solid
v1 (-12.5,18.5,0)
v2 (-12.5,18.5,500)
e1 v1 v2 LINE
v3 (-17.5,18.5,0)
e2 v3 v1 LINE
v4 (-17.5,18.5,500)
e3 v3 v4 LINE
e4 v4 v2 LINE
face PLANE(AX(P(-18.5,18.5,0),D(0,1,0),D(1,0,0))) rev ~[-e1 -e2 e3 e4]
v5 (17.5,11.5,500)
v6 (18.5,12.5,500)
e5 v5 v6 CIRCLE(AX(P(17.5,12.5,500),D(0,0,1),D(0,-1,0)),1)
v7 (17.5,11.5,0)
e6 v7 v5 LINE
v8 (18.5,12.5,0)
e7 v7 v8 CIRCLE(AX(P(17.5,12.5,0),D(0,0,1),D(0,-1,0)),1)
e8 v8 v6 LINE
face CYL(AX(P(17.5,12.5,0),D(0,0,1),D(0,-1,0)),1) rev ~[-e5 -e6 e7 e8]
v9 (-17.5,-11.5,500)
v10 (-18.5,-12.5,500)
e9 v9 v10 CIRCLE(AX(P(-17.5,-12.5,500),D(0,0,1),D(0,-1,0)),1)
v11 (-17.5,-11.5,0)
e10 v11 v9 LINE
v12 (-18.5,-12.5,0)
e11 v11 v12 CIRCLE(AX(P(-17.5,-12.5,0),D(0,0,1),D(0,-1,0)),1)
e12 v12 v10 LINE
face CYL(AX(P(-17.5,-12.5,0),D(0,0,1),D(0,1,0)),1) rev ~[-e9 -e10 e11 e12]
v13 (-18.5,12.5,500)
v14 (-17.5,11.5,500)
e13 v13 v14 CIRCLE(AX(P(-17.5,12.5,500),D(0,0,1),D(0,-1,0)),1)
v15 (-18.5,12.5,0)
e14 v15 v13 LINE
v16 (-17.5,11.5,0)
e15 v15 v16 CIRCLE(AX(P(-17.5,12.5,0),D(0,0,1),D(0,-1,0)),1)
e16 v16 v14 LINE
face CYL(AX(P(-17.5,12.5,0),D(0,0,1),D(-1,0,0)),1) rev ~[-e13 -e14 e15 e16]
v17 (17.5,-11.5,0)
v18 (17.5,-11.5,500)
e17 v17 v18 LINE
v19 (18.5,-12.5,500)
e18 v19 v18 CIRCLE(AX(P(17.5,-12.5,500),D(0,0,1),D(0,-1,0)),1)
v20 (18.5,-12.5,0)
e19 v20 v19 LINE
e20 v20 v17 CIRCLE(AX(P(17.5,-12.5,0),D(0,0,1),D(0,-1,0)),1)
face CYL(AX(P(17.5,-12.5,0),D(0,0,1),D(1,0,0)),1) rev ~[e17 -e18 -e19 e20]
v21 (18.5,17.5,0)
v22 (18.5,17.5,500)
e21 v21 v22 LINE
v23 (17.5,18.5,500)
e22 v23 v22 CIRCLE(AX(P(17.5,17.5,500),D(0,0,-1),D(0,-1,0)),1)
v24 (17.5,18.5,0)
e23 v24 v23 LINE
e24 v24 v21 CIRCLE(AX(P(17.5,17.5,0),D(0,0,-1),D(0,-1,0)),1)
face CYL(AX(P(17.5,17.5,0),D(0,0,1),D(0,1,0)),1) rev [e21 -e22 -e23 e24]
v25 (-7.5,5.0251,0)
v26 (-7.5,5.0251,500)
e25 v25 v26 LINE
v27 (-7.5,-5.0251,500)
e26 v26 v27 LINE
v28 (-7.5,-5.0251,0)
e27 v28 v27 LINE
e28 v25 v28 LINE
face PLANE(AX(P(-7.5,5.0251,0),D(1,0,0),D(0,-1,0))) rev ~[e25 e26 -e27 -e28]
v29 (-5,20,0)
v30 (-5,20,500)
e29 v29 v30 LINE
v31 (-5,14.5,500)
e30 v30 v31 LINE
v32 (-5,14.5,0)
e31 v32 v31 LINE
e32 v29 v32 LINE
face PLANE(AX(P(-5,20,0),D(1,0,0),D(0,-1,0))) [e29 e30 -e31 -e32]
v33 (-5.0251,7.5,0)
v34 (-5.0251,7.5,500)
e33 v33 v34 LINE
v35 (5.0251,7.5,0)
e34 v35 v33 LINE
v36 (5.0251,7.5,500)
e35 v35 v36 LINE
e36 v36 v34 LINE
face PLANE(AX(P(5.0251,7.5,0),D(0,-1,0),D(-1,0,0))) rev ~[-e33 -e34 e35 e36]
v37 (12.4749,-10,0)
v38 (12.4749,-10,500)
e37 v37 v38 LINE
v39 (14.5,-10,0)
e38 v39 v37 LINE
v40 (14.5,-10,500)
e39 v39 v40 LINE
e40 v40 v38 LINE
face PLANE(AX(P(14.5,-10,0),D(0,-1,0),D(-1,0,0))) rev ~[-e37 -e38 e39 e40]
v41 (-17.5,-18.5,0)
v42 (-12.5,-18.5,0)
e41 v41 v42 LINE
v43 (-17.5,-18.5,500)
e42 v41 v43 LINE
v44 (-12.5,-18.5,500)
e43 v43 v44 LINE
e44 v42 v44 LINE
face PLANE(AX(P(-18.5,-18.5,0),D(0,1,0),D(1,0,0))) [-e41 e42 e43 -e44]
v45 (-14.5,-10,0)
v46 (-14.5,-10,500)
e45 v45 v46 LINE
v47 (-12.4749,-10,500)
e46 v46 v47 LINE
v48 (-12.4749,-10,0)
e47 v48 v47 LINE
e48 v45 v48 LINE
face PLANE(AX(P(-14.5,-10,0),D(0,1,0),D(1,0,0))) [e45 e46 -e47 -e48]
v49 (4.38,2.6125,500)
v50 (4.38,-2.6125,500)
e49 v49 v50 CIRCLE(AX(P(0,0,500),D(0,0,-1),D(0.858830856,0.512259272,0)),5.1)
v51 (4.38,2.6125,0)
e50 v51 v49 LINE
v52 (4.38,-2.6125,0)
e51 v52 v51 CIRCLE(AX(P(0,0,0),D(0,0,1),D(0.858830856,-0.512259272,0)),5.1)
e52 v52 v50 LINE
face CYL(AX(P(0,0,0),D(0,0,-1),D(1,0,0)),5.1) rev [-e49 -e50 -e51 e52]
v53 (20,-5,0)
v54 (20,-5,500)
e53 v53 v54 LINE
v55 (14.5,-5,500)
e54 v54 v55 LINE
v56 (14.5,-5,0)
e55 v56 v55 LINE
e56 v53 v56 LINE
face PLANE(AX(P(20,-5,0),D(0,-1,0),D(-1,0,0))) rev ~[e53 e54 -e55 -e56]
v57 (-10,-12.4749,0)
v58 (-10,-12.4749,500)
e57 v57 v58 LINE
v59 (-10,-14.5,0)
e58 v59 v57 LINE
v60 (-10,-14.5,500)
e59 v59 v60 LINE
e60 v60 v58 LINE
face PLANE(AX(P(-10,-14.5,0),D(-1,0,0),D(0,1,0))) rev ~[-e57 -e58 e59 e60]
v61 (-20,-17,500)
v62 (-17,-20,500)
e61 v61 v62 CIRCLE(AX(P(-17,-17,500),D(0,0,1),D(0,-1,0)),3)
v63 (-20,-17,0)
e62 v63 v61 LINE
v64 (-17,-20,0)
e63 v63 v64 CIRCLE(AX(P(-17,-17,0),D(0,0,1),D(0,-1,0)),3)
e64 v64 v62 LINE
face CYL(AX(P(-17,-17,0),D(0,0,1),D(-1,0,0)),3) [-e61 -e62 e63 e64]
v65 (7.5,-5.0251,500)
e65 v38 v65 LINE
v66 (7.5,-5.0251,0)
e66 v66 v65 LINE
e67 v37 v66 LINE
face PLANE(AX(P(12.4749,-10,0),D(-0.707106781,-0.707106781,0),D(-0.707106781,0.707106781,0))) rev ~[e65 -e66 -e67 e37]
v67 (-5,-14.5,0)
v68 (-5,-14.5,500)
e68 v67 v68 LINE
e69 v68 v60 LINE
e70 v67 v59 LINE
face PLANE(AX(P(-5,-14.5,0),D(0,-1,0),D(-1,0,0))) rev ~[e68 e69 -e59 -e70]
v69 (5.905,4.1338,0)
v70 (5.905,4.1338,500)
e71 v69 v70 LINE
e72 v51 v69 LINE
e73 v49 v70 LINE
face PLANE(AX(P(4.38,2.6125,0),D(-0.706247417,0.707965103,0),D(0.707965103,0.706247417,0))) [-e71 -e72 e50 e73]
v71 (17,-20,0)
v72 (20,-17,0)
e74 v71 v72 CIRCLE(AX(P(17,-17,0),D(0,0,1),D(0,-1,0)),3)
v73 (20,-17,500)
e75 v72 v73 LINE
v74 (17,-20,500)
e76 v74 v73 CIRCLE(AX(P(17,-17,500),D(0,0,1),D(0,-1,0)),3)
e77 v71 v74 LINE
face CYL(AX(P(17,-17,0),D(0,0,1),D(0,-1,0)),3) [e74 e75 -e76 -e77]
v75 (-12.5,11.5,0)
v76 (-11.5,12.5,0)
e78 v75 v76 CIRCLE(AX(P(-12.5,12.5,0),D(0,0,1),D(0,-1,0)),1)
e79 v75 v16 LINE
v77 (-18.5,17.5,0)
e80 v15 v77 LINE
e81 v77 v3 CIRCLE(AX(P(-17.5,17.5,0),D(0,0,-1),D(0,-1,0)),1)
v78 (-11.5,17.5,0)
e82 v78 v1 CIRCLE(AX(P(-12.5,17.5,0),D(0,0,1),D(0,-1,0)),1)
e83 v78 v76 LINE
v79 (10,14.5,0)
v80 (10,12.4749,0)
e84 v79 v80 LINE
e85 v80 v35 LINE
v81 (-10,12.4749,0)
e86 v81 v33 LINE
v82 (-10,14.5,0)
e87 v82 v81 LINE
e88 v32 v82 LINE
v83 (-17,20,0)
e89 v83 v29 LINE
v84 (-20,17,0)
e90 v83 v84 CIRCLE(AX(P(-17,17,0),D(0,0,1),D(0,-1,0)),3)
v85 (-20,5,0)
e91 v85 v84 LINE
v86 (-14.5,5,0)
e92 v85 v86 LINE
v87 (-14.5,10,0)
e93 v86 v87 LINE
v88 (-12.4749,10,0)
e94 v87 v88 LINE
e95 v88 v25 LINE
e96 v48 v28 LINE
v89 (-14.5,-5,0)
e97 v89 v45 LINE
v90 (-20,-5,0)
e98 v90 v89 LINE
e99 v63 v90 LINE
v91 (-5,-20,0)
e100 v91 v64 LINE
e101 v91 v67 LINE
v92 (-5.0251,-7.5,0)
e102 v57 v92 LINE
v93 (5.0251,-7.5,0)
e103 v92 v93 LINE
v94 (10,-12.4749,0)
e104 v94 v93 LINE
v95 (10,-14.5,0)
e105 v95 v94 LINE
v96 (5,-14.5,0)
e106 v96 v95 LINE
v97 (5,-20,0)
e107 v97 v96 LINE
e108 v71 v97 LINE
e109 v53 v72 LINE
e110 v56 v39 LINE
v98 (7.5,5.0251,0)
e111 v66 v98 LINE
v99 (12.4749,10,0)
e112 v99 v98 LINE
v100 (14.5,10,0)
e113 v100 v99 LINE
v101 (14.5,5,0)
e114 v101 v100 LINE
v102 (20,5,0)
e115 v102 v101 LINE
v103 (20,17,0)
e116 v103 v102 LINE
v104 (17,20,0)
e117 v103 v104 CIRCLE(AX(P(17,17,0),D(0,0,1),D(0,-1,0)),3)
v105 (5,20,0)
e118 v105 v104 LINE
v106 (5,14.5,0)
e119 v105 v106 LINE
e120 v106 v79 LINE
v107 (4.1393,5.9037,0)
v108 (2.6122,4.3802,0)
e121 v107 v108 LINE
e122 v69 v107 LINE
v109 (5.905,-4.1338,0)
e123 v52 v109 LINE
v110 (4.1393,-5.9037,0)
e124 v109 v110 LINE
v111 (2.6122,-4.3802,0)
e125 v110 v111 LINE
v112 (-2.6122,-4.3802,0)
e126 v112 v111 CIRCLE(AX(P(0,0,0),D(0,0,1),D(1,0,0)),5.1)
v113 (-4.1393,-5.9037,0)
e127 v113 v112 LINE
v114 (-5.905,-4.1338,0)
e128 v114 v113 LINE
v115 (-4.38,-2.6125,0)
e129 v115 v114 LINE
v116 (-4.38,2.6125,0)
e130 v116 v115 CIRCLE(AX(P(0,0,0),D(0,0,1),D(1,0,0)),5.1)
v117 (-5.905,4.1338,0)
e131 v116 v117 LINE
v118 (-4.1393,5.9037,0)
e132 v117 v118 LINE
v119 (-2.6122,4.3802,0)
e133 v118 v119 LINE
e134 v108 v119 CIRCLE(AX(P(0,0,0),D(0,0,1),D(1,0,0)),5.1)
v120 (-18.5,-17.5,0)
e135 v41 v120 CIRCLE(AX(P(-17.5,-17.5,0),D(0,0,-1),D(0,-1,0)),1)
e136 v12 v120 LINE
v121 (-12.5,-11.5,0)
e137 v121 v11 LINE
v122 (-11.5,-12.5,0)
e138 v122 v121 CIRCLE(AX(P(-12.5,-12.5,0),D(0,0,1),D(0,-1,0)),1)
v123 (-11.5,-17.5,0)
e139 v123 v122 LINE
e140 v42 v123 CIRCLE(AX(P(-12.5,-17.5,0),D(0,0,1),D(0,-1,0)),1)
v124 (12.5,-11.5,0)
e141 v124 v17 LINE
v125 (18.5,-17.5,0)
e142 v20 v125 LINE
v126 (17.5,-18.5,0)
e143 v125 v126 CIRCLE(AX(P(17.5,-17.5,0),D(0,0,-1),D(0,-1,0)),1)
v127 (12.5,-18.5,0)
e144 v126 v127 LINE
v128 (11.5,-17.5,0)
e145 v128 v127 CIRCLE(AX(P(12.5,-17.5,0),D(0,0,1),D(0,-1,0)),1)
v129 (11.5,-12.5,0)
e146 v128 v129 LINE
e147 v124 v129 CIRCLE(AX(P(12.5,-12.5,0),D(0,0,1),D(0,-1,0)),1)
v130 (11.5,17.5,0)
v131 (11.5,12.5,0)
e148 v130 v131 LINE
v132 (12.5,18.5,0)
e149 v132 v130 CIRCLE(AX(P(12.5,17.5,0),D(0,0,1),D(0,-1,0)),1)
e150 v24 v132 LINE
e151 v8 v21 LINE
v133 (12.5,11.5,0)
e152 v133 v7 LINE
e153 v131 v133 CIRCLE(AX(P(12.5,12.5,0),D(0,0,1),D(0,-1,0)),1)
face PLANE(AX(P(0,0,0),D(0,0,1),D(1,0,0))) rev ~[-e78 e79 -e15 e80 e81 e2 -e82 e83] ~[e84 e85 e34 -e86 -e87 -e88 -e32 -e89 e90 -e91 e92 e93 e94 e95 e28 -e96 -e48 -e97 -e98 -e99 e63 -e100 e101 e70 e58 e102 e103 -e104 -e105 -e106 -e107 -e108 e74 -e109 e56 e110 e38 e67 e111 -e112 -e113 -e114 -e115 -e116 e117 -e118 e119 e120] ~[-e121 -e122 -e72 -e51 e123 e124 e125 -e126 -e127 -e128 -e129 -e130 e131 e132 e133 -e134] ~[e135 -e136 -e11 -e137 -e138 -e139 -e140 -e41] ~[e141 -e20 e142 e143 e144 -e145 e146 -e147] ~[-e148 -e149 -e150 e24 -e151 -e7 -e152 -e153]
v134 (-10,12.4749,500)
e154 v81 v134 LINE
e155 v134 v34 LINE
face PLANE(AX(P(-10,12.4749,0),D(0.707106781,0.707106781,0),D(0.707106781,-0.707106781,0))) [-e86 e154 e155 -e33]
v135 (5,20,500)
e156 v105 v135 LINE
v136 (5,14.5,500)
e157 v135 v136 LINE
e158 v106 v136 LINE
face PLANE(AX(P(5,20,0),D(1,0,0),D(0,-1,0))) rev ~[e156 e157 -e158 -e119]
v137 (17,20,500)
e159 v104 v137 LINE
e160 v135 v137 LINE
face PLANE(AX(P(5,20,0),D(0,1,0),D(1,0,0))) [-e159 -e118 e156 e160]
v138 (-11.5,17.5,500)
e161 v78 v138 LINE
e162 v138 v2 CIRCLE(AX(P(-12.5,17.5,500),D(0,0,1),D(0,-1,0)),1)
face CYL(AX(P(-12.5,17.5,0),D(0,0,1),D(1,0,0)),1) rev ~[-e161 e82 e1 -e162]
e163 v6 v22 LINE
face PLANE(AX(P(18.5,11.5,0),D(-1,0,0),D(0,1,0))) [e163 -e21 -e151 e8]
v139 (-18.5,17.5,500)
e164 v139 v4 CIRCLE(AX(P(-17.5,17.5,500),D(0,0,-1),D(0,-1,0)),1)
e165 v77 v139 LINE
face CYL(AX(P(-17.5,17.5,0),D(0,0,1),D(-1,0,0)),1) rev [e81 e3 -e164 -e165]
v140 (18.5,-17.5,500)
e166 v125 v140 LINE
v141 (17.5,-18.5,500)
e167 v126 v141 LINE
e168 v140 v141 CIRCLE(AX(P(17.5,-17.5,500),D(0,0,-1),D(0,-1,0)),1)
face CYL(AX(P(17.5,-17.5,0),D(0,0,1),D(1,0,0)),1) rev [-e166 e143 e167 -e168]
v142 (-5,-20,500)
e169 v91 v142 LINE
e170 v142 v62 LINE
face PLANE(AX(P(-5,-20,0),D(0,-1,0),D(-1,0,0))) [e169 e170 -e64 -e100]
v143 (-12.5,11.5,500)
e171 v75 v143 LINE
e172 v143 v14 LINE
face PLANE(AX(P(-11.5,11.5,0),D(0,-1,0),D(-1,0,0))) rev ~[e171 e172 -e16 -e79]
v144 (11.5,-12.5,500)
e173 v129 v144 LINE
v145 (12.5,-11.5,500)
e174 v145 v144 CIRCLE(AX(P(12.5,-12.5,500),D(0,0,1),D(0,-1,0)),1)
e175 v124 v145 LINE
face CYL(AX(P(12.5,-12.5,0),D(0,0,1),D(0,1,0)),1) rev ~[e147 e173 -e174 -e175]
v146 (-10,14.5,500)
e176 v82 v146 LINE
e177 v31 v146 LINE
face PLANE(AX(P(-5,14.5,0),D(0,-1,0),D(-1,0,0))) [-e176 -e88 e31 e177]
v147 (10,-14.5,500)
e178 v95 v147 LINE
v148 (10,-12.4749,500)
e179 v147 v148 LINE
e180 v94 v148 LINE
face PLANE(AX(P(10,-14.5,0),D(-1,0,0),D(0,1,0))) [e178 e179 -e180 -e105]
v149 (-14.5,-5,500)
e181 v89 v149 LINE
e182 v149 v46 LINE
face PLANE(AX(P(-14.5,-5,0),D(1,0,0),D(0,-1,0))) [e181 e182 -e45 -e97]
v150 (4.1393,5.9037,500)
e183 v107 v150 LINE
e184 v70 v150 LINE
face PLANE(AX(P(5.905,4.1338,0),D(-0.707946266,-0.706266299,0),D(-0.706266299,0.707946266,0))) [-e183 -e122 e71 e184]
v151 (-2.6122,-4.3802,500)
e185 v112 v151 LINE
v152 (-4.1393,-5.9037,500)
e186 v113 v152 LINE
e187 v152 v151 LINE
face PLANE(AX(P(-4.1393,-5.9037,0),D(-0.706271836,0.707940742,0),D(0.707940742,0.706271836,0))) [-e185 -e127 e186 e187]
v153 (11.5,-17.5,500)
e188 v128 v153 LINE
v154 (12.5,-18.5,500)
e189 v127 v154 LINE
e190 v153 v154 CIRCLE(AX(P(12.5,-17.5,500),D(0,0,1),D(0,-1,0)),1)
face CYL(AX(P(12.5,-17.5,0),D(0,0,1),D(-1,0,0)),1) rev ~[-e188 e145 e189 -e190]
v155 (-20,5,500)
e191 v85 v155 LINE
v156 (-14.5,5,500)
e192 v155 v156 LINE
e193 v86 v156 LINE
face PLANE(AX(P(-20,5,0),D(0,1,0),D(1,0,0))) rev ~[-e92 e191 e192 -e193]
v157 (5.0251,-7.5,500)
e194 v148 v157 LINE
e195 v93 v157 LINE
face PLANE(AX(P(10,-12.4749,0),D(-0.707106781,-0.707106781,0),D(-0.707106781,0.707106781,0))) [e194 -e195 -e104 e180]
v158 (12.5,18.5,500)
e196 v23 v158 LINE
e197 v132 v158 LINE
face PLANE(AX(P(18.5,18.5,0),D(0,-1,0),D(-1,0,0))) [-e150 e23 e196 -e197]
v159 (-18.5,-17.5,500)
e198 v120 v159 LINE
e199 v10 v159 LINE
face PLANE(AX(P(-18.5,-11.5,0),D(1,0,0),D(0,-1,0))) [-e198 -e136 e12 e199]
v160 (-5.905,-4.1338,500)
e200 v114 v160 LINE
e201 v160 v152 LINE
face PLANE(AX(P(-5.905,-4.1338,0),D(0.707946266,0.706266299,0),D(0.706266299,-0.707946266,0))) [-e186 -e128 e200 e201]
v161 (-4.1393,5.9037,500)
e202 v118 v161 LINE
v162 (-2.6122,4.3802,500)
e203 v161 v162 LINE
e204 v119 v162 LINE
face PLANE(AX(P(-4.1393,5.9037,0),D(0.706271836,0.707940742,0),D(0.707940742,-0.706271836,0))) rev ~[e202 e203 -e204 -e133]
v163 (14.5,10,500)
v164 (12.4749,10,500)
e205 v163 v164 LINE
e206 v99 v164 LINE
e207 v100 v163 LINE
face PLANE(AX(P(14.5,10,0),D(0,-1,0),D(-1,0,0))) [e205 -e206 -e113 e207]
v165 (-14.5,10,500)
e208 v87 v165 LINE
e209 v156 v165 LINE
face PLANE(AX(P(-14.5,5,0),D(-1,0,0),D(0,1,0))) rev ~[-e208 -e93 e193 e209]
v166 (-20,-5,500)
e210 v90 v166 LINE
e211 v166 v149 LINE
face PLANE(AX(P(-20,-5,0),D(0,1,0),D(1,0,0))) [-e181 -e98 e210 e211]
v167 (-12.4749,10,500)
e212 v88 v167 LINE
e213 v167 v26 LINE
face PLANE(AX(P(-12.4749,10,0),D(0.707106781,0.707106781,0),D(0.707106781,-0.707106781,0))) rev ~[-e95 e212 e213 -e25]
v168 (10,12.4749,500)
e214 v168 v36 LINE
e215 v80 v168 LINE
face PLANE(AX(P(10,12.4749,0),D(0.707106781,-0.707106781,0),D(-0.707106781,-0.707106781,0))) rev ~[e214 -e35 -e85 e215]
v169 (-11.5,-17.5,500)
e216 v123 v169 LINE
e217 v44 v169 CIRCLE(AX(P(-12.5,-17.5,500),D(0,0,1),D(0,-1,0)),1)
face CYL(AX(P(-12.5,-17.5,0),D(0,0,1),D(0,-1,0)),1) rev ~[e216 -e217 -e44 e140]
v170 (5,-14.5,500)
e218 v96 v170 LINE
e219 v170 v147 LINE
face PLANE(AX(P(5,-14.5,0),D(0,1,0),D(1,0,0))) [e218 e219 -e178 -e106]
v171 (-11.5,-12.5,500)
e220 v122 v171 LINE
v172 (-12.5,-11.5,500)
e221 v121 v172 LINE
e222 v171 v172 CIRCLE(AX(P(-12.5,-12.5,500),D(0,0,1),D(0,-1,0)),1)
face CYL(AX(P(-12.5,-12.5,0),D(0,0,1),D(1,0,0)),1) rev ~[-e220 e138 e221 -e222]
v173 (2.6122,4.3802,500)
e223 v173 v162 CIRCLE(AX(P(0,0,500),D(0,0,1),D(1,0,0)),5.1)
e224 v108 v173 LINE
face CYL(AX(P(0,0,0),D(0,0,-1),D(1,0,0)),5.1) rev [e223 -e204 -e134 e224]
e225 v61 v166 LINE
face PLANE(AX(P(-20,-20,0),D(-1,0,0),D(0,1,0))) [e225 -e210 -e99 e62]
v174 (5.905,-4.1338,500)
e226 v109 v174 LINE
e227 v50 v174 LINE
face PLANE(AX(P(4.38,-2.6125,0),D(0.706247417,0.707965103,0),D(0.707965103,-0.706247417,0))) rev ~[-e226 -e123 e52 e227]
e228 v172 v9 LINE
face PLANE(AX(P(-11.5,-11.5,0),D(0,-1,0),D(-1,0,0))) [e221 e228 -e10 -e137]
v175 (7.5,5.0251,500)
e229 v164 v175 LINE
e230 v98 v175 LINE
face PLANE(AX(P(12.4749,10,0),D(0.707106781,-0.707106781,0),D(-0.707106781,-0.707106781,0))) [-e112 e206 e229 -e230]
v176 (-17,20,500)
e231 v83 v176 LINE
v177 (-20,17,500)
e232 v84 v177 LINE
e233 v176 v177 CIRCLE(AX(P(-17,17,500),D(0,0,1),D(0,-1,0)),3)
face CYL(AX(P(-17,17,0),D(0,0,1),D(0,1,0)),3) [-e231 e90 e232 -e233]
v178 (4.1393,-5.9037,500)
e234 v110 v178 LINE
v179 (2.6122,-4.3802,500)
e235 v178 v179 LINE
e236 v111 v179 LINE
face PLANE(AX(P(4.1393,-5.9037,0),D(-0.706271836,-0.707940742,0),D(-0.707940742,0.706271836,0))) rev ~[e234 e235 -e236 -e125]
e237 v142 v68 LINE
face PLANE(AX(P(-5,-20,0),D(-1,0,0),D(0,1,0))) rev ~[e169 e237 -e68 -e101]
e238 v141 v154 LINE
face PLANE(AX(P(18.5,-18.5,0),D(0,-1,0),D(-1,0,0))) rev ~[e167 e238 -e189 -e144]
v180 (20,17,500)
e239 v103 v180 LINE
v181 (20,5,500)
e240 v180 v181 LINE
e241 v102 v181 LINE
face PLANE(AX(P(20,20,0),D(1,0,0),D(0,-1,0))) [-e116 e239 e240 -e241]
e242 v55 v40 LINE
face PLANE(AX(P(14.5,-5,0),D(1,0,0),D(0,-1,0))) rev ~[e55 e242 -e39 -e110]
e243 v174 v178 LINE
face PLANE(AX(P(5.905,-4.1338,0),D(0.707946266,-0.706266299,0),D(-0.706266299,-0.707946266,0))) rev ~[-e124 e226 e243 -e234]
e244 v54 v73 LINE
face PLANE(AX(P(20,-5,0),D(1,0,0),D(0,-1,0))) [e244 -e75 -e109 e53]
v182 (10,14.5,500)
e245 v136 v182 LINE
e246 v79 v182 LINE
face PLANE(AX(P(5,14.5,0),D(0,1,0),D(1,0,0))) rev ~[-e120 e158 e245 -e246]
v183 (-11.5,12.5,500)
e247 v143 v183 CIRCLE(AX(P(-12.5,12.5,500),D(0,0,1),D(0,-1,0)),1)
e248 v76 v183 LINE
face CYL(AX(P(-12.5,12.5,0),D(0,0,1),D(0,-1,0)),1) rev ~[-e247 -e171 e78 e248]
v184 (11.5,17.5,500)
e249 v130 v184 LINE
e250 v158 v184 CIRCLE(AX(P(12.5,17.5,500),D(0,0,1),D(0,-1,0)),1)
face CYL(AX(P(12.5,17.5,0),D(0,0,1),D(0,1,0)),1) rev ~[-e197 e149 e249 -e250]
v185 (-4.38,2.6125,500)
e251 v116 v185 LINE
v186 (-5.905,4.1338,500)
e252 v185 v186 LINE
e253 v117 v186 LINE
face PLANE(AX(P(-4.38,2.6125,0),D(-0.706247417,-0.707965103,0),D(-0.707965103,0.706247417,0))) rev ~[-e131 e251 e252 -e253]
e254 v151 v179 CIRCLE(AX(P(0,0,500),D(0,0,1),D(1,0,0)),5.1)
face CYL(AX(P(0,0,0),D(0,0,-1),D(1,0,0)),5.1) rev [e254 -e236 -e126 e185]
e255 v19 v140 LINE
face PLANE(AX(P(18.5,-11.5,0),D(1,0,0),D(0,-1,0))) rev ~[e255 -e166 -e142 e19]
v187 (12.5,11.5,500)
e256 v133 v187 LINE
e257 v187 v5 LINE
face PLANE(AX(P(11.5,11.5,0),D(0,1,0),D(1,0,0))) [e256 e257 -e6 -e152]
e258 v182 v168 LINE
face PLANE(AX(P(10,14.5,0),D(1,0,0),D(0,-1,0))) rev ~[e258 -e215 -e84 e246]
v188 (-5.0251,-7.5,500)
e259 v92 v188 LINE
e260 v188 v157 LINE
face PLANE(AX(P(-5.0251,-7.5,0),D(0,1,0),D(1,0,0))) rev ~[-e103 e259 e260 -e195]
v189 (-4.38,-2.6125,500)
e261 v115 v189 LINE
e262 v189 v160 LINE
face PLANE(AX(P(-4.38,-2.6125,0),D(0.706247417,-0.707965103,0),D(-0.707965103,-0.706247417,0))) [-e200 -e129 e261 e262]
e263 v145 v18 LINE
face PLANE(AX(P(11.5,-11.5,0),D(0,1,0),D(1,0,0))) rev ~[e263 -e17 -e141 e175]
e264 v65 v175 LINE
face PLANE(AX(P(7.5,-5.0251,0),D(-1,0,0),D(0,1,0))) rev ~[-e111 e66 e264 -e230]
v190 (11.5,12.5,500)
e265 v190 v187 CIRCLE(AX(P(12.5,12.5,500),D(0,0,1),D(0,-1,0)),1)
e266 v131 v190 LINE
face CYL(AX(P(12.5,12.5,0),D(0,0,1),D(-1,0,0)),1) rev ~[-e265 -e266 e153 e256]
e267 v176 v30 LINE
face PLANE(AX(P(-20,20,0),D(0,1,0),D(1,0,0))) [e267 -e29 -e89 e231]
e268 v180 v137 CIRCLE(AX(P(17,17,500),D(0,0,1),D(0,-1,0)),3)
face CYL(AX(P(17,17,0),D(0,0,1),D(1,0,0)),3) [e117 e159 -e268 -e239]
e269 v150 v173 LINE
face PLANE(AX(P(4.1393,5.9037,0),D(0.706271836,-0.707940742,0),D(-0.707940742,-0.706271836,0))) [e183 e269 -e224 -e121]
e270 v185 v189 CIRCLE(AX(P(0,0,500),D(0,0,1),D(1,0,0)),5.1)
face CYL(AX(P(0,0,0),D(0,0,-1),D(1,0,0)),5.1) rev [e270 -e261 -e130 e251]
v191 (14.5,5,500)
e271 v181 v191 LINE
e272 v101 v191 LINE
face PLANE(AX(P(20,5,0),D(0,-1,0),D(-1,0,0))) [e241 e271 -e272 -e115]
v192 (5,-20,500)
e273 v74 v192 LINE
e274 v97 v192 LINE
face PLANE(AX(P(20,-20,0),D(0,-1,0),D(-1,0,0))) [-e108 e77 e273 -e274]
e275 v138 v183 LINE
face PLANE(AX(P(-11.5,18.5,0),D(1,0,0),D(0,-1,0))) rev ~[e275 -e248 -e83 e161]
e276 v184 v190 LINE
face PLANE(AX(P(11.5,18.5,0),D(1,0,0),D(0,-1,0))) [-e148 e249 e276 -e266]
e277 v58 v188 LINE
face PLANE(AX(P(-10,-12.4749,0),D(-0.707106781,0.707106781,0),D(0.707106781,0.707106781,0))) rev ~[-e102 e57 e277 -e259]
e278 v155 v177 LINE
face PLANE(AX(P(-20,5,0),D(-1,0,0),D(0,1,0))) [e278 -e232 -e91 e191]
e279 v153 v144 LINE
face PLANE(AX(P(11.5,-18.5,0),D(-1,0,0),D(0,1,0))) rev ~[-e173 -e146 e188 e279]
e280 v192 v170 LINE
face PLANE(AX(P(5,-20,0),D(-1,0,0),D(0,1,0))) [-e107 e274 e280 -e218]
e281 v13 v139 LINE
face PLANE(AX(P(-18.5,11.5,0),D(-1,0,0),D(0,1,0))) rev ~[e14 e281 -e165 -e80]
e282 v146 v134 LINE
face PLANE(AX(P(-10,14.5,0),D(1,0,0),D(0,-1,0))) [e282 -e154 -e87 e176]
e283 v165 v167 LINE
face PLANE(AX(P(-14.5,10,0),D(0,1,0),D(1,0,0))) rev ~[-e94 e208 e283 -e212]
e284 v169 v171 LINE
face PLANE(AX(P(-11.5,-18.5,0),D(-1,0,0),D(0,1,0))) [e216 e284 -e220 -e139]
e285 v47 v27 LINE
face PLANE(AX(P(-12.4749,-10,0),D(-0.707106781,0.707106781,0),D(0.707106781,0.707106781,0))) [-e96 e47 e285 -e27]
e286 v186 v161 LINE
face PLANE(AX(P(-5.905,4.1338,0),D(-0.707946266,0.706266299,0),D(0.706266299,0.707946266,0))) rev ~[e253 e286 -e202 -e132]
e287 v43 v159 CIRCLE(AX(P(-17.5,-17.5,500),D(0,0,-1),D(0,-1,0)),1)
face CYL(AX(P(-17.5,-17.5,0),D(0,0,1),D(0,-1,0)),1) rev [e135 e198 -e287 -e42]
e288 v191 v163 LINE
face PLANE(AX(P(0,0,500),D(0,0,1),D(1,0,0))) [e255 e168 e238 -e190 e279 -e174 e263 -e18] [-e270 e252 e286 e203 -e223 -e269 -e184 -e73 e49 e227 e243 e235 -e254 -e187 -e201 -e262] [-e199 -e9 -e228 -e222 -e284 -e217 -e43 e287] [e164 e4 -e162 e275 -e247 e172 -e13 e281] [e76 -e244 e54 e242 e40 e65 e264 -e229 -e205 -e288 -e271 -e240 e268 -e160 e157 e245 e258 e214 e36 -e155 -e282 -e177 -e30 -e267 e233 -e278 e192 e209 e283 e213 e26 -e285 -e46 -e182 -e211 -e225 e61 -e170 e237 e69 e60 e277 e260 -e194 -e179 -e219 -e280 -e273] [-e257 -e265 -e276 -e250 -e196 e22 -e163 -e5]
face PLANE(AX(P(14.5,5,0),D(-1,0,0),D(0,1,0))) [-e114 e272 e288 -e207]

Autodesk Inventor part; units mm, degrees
ref_plane "YZ Plane" through (0, 0, 0) normal (1, 0, 0) x (0, 1, 0)
ref_plane "XZ Plane" through (0, 0, 0) normal (0, 1, 0) x (-1, 0, 0)
ref_plane "XY Plane" through (0, 0, 0) normal (0, 0, 1) x (1, 0, 0)
sketch "T-Slot 4040 Base" plane through (0, 0, 0) normal (0, 0, 1) x (1, 0, 0)
  line L0 (-28, 0) -> (28, 0) construction
  line L1 (0, -28) -> (0, 28) construction
  circle A0 centre (0, 0) radius 5.1
  line L2 (-7.5, -7.5) -> (7.5, -7.5)
  line L3 (7.5, -7.5) -> (7.5, 7.5)
  line L4 (7.5, 7.5) -> (-7.5, 7.5)
  line L5 (-7.5, 7.5) -> (-7.5, -7.5)
  line L6 (-7.5, -7.5) -> (7.5, 7.5) construction
  line L7 (7.5, -7.5) -> (-7.5, 7.5) construction
  line L8 (-20, 20) -> (20, 20)
  line L9 (20, 20) -> (20, -20)
  line L10 (20, -20) -> (-20, -20)
  line L11 (-20, -20) -> (-20, 20)
  line L12 (-20, 20) -> (20, -20) construction
  line L13 (20, 20) -> (-20, -20) construction
  line L14 (20, 5) -> (14.5, 5)
  line L15 (14.5, 5) -> (14.5, 10)
  line L16 (14.5, 10) -> (12.4749, 10)
  line L17 (12.4749, 10) -> (7.5, 5.0251)
  line L18 (5, 20) -> (5, 14.5)
  line L19 (5, 14.5) -> (10, 14.5)
  line L20 (10, 14.5) -> (10, 12.4749)
  line L21 (10, 12.4749) -> (5.0251, 7.5)
  line L22 (18.5, 18.5) -> (11.5, 18.5)
  line L23 (11.5, 18.5) -> (11.5, 11.5)
  line L24 (11.5, 11.5) -> (18.5, 11.5)
  line L25 (18.5, 11.5) -> (18.5, 18.5)
  line L26 (18.5, 18.5) -> (11.5, 11.5) construction
  line L27 (11.5, 18.5) -> (18.5, 11.5) construction
  line L28 (3.0732, 1.3088) -> (4.38, 2.6125) construction
  line L29 (5.905, 4.1338) -> (4.1393, 5.9037)
  line L30 (4.1393, 5.9037) -> (2.6122, 4.3802)
  line L31 (1.3075, 3.0787) -> (3.0732, 1.3088) construction
  line L32 (3.0732, 1.3088) -> (4.1393, 5.9037) construction
  line L33 (5.905, 4.1338) -> (1.3075, 3.0787) construction
  line L34 (4.38, 2.6125) -> (5.905, 4.1338)
  line L35 (2.6122, 4.3802) -> (1.3075, 3.0787) construction
  line L36 (-20, 5) -> (-14.5, 5)
  line L37 (-14.5, 5) -> (-14.5, 10)
  line L38 (-14.5, 10) -> (-12.4749, 10)
  line L39 (-12.4749, 10) -> (-7.5, 5.0251)
  line L40 (-5, 20) -> (-5, 14.5)
  line L41 (-5, 14.5) -> (-10, 14.5)
  line L42 (-10, 14.5) -> (-10, 12.4749)
  line L43 (-10, 12.4749) -> (-5.0251, 7.5)
  line L44 (-18.5, 18.5) -> (-11.5, 18.5)
  line L45 (-11.5, 18.5) -> (-11.5, 11.5)
  line L46 (-11.5, 11.5) -> (-18.5, 11.5)
  line L47 (-18.5, 11.5) -> (-18.5, 18.5)
  line L48 (-5.905, 4.1338) -> (-4.1393, 5.9037)
  line L49 (-4.1393, 5.9037) -> (-2.6122, 4.3802)
  line L50 (-4.38, 2.6125) -> (-5.905, 4.1338)
  line L51 (7.5, -7.5) -> (-7.5, -7.5)
  line L52 (20, -5) -> (14.5, -5)
  line L53 (14.5, -5) -> (14.5, -10)
  line L54 (14.5, -10) -> (12.4749, -10)
  line L55 (12.4749, -10) -> (7.5, -5.0251)
  line L56 (5, -20) -> (5, -14.5)
  line L57 (5, -14.5) -> (10, -14.5)
  line L58 (10, -14.5) -> (10, -12.4749)
  line L59 (10, -12.4749) -> (5.0251, -7.5)
  line L60 (18.5, -18.5) -> (11.5, -18.5)
  line L61 (11.5, -18.5) -> (11.5, -11.5)
  line L62 (11.5, -11.5) -> (18.5, -11.5)
  line L63 (18.5, -11.5) -> (18.5, -18.5)
  line L64 (18.5, -18.5) -> (11.5, -11.5) construction
  line L65 (11.5, -18.5) -> (18.5, -11.5) construction
  line L66 (3.0732, -1.3088) -> (4.38, -2.6125) construction
  line L67 (5.905, -4.1338) -> (4.1393, -5.9037)
  line L68 (4.1393, -5.9037) -> (2.6122, -4.3802)
  line L69 (1.3075, -3.0787) -> (3.0732, -1.3088) construction
  line L70 (3.0732, -1.3088) -> (4.1393, -5.9037) construction
  line L71 (5.905, -4.1338) -> (1.3075, -3.0787) construction
  line L72 (4.38, -2.6125) -> (5.905, -4.1338)
  line L73 (2.6122, -4.3802) -> (1.3075, -3.0787) construction
  line L74 (-4.38, -2.6125) -> (-5.905, -4.1338)
  line L75 (-4.1393, -5.9037) -> (-2.6122, -4.3802)
  line L76 (-5.905, -4.1338) -> (-4.1393, -5.9037)
  line L77 (-12.4749, -10) -> (-7.5, -5.0251)
  line L78 (-10, -12.4749) -> (-5.0251, -7.5)
  line L79 (-10, -14.5) -> (-10, -12.4749)
  line L80 (-5, -14.5) -> (-10, -14.5)
  line L81 (-5, -20) -> (-5, -14.5)
  line L82 (-18.5, -18.5) -> (-11.5, -18.5)
  line L83 (-11.5, -18.5) -> (-11.5, -11.5)
  line L84 (-11.5, -11.5) -> (-18.5, -11.5)
  line L85 (-18.5, -11.5) -> (-18.5, -18.5)
  line L86 (-14.5, -10) -> (-12.4749, -10)
  line L87 (-14.5, -5) -> (-14.5, -10)
  line L88 (-20, -5) -> (-14.5, -5)
  point P0 (15, 15)
  point P1 (3.6062, 3.6062)
  point P2 (3.6062, 3.6062)
  point P3 (15, -15)
  point P4 (3.6062, -3.6062)
  point P5 (3.6062, -3.6062)
  dimension "d9" = 10.2
  dimension "d12" = 40
  dimension "d13" = 40
  dimension "d14" = 5.5
  dimension "d15" = 15
  dimension "d16" = 7
  dimension "d17" = 10
  dimension "d20" = 1.75
  dimension "d21" = 7
  dimension "d22" = 2
  dimension "d29" = 1.5
  dimension "d30" = 2.5
extrude "Extrusion1" add sketch "T-Slot 4040 Base" along normal blind 500 contours L5 L4 L3 L2 | L2 L78 L79 L80 L81 L10 L11 L88 L87 L86 L77 L5 | L2 L3 L55 L54 L53 L52 L9 L10 L56 L57 L58 L59 | L39 L38 L37 L36 L11 L8 L40 L41 L42 L43 L4 L5 | L3 L4 L21 L20 L19 L18 L8 L9 L14 L15 L16 L17
fillet "Rundung1" radius 1 16 edges at (11.5, 18.5, 250) (18.5, 18.5, 250) (18.5, 11.5, 250) (11.5, 11.5, 250) (-11.5, 18.5, 250) (-18.5, 18.5, 250) (-18.5, 11.5, 250) (-11.5, 11.5, 250) (-18.5, -11.5, 250) (-11.5, -11.5, 250) (-11.5, -18.5, 250) (-18.5, -18.5, 250) (11.5, -18.5, 250) (11.5, -11.5, 250) (18.5, -11.5, 250) (18.5, -18.5, 250)
fillet "Rundung2" radius 3 4 edges at (20, 20, 250) (20, -20, 250) (-20, -20, 250) (-20, 20, 250)
properties part number "T-SLOT 4040 B-Type 500mm"
